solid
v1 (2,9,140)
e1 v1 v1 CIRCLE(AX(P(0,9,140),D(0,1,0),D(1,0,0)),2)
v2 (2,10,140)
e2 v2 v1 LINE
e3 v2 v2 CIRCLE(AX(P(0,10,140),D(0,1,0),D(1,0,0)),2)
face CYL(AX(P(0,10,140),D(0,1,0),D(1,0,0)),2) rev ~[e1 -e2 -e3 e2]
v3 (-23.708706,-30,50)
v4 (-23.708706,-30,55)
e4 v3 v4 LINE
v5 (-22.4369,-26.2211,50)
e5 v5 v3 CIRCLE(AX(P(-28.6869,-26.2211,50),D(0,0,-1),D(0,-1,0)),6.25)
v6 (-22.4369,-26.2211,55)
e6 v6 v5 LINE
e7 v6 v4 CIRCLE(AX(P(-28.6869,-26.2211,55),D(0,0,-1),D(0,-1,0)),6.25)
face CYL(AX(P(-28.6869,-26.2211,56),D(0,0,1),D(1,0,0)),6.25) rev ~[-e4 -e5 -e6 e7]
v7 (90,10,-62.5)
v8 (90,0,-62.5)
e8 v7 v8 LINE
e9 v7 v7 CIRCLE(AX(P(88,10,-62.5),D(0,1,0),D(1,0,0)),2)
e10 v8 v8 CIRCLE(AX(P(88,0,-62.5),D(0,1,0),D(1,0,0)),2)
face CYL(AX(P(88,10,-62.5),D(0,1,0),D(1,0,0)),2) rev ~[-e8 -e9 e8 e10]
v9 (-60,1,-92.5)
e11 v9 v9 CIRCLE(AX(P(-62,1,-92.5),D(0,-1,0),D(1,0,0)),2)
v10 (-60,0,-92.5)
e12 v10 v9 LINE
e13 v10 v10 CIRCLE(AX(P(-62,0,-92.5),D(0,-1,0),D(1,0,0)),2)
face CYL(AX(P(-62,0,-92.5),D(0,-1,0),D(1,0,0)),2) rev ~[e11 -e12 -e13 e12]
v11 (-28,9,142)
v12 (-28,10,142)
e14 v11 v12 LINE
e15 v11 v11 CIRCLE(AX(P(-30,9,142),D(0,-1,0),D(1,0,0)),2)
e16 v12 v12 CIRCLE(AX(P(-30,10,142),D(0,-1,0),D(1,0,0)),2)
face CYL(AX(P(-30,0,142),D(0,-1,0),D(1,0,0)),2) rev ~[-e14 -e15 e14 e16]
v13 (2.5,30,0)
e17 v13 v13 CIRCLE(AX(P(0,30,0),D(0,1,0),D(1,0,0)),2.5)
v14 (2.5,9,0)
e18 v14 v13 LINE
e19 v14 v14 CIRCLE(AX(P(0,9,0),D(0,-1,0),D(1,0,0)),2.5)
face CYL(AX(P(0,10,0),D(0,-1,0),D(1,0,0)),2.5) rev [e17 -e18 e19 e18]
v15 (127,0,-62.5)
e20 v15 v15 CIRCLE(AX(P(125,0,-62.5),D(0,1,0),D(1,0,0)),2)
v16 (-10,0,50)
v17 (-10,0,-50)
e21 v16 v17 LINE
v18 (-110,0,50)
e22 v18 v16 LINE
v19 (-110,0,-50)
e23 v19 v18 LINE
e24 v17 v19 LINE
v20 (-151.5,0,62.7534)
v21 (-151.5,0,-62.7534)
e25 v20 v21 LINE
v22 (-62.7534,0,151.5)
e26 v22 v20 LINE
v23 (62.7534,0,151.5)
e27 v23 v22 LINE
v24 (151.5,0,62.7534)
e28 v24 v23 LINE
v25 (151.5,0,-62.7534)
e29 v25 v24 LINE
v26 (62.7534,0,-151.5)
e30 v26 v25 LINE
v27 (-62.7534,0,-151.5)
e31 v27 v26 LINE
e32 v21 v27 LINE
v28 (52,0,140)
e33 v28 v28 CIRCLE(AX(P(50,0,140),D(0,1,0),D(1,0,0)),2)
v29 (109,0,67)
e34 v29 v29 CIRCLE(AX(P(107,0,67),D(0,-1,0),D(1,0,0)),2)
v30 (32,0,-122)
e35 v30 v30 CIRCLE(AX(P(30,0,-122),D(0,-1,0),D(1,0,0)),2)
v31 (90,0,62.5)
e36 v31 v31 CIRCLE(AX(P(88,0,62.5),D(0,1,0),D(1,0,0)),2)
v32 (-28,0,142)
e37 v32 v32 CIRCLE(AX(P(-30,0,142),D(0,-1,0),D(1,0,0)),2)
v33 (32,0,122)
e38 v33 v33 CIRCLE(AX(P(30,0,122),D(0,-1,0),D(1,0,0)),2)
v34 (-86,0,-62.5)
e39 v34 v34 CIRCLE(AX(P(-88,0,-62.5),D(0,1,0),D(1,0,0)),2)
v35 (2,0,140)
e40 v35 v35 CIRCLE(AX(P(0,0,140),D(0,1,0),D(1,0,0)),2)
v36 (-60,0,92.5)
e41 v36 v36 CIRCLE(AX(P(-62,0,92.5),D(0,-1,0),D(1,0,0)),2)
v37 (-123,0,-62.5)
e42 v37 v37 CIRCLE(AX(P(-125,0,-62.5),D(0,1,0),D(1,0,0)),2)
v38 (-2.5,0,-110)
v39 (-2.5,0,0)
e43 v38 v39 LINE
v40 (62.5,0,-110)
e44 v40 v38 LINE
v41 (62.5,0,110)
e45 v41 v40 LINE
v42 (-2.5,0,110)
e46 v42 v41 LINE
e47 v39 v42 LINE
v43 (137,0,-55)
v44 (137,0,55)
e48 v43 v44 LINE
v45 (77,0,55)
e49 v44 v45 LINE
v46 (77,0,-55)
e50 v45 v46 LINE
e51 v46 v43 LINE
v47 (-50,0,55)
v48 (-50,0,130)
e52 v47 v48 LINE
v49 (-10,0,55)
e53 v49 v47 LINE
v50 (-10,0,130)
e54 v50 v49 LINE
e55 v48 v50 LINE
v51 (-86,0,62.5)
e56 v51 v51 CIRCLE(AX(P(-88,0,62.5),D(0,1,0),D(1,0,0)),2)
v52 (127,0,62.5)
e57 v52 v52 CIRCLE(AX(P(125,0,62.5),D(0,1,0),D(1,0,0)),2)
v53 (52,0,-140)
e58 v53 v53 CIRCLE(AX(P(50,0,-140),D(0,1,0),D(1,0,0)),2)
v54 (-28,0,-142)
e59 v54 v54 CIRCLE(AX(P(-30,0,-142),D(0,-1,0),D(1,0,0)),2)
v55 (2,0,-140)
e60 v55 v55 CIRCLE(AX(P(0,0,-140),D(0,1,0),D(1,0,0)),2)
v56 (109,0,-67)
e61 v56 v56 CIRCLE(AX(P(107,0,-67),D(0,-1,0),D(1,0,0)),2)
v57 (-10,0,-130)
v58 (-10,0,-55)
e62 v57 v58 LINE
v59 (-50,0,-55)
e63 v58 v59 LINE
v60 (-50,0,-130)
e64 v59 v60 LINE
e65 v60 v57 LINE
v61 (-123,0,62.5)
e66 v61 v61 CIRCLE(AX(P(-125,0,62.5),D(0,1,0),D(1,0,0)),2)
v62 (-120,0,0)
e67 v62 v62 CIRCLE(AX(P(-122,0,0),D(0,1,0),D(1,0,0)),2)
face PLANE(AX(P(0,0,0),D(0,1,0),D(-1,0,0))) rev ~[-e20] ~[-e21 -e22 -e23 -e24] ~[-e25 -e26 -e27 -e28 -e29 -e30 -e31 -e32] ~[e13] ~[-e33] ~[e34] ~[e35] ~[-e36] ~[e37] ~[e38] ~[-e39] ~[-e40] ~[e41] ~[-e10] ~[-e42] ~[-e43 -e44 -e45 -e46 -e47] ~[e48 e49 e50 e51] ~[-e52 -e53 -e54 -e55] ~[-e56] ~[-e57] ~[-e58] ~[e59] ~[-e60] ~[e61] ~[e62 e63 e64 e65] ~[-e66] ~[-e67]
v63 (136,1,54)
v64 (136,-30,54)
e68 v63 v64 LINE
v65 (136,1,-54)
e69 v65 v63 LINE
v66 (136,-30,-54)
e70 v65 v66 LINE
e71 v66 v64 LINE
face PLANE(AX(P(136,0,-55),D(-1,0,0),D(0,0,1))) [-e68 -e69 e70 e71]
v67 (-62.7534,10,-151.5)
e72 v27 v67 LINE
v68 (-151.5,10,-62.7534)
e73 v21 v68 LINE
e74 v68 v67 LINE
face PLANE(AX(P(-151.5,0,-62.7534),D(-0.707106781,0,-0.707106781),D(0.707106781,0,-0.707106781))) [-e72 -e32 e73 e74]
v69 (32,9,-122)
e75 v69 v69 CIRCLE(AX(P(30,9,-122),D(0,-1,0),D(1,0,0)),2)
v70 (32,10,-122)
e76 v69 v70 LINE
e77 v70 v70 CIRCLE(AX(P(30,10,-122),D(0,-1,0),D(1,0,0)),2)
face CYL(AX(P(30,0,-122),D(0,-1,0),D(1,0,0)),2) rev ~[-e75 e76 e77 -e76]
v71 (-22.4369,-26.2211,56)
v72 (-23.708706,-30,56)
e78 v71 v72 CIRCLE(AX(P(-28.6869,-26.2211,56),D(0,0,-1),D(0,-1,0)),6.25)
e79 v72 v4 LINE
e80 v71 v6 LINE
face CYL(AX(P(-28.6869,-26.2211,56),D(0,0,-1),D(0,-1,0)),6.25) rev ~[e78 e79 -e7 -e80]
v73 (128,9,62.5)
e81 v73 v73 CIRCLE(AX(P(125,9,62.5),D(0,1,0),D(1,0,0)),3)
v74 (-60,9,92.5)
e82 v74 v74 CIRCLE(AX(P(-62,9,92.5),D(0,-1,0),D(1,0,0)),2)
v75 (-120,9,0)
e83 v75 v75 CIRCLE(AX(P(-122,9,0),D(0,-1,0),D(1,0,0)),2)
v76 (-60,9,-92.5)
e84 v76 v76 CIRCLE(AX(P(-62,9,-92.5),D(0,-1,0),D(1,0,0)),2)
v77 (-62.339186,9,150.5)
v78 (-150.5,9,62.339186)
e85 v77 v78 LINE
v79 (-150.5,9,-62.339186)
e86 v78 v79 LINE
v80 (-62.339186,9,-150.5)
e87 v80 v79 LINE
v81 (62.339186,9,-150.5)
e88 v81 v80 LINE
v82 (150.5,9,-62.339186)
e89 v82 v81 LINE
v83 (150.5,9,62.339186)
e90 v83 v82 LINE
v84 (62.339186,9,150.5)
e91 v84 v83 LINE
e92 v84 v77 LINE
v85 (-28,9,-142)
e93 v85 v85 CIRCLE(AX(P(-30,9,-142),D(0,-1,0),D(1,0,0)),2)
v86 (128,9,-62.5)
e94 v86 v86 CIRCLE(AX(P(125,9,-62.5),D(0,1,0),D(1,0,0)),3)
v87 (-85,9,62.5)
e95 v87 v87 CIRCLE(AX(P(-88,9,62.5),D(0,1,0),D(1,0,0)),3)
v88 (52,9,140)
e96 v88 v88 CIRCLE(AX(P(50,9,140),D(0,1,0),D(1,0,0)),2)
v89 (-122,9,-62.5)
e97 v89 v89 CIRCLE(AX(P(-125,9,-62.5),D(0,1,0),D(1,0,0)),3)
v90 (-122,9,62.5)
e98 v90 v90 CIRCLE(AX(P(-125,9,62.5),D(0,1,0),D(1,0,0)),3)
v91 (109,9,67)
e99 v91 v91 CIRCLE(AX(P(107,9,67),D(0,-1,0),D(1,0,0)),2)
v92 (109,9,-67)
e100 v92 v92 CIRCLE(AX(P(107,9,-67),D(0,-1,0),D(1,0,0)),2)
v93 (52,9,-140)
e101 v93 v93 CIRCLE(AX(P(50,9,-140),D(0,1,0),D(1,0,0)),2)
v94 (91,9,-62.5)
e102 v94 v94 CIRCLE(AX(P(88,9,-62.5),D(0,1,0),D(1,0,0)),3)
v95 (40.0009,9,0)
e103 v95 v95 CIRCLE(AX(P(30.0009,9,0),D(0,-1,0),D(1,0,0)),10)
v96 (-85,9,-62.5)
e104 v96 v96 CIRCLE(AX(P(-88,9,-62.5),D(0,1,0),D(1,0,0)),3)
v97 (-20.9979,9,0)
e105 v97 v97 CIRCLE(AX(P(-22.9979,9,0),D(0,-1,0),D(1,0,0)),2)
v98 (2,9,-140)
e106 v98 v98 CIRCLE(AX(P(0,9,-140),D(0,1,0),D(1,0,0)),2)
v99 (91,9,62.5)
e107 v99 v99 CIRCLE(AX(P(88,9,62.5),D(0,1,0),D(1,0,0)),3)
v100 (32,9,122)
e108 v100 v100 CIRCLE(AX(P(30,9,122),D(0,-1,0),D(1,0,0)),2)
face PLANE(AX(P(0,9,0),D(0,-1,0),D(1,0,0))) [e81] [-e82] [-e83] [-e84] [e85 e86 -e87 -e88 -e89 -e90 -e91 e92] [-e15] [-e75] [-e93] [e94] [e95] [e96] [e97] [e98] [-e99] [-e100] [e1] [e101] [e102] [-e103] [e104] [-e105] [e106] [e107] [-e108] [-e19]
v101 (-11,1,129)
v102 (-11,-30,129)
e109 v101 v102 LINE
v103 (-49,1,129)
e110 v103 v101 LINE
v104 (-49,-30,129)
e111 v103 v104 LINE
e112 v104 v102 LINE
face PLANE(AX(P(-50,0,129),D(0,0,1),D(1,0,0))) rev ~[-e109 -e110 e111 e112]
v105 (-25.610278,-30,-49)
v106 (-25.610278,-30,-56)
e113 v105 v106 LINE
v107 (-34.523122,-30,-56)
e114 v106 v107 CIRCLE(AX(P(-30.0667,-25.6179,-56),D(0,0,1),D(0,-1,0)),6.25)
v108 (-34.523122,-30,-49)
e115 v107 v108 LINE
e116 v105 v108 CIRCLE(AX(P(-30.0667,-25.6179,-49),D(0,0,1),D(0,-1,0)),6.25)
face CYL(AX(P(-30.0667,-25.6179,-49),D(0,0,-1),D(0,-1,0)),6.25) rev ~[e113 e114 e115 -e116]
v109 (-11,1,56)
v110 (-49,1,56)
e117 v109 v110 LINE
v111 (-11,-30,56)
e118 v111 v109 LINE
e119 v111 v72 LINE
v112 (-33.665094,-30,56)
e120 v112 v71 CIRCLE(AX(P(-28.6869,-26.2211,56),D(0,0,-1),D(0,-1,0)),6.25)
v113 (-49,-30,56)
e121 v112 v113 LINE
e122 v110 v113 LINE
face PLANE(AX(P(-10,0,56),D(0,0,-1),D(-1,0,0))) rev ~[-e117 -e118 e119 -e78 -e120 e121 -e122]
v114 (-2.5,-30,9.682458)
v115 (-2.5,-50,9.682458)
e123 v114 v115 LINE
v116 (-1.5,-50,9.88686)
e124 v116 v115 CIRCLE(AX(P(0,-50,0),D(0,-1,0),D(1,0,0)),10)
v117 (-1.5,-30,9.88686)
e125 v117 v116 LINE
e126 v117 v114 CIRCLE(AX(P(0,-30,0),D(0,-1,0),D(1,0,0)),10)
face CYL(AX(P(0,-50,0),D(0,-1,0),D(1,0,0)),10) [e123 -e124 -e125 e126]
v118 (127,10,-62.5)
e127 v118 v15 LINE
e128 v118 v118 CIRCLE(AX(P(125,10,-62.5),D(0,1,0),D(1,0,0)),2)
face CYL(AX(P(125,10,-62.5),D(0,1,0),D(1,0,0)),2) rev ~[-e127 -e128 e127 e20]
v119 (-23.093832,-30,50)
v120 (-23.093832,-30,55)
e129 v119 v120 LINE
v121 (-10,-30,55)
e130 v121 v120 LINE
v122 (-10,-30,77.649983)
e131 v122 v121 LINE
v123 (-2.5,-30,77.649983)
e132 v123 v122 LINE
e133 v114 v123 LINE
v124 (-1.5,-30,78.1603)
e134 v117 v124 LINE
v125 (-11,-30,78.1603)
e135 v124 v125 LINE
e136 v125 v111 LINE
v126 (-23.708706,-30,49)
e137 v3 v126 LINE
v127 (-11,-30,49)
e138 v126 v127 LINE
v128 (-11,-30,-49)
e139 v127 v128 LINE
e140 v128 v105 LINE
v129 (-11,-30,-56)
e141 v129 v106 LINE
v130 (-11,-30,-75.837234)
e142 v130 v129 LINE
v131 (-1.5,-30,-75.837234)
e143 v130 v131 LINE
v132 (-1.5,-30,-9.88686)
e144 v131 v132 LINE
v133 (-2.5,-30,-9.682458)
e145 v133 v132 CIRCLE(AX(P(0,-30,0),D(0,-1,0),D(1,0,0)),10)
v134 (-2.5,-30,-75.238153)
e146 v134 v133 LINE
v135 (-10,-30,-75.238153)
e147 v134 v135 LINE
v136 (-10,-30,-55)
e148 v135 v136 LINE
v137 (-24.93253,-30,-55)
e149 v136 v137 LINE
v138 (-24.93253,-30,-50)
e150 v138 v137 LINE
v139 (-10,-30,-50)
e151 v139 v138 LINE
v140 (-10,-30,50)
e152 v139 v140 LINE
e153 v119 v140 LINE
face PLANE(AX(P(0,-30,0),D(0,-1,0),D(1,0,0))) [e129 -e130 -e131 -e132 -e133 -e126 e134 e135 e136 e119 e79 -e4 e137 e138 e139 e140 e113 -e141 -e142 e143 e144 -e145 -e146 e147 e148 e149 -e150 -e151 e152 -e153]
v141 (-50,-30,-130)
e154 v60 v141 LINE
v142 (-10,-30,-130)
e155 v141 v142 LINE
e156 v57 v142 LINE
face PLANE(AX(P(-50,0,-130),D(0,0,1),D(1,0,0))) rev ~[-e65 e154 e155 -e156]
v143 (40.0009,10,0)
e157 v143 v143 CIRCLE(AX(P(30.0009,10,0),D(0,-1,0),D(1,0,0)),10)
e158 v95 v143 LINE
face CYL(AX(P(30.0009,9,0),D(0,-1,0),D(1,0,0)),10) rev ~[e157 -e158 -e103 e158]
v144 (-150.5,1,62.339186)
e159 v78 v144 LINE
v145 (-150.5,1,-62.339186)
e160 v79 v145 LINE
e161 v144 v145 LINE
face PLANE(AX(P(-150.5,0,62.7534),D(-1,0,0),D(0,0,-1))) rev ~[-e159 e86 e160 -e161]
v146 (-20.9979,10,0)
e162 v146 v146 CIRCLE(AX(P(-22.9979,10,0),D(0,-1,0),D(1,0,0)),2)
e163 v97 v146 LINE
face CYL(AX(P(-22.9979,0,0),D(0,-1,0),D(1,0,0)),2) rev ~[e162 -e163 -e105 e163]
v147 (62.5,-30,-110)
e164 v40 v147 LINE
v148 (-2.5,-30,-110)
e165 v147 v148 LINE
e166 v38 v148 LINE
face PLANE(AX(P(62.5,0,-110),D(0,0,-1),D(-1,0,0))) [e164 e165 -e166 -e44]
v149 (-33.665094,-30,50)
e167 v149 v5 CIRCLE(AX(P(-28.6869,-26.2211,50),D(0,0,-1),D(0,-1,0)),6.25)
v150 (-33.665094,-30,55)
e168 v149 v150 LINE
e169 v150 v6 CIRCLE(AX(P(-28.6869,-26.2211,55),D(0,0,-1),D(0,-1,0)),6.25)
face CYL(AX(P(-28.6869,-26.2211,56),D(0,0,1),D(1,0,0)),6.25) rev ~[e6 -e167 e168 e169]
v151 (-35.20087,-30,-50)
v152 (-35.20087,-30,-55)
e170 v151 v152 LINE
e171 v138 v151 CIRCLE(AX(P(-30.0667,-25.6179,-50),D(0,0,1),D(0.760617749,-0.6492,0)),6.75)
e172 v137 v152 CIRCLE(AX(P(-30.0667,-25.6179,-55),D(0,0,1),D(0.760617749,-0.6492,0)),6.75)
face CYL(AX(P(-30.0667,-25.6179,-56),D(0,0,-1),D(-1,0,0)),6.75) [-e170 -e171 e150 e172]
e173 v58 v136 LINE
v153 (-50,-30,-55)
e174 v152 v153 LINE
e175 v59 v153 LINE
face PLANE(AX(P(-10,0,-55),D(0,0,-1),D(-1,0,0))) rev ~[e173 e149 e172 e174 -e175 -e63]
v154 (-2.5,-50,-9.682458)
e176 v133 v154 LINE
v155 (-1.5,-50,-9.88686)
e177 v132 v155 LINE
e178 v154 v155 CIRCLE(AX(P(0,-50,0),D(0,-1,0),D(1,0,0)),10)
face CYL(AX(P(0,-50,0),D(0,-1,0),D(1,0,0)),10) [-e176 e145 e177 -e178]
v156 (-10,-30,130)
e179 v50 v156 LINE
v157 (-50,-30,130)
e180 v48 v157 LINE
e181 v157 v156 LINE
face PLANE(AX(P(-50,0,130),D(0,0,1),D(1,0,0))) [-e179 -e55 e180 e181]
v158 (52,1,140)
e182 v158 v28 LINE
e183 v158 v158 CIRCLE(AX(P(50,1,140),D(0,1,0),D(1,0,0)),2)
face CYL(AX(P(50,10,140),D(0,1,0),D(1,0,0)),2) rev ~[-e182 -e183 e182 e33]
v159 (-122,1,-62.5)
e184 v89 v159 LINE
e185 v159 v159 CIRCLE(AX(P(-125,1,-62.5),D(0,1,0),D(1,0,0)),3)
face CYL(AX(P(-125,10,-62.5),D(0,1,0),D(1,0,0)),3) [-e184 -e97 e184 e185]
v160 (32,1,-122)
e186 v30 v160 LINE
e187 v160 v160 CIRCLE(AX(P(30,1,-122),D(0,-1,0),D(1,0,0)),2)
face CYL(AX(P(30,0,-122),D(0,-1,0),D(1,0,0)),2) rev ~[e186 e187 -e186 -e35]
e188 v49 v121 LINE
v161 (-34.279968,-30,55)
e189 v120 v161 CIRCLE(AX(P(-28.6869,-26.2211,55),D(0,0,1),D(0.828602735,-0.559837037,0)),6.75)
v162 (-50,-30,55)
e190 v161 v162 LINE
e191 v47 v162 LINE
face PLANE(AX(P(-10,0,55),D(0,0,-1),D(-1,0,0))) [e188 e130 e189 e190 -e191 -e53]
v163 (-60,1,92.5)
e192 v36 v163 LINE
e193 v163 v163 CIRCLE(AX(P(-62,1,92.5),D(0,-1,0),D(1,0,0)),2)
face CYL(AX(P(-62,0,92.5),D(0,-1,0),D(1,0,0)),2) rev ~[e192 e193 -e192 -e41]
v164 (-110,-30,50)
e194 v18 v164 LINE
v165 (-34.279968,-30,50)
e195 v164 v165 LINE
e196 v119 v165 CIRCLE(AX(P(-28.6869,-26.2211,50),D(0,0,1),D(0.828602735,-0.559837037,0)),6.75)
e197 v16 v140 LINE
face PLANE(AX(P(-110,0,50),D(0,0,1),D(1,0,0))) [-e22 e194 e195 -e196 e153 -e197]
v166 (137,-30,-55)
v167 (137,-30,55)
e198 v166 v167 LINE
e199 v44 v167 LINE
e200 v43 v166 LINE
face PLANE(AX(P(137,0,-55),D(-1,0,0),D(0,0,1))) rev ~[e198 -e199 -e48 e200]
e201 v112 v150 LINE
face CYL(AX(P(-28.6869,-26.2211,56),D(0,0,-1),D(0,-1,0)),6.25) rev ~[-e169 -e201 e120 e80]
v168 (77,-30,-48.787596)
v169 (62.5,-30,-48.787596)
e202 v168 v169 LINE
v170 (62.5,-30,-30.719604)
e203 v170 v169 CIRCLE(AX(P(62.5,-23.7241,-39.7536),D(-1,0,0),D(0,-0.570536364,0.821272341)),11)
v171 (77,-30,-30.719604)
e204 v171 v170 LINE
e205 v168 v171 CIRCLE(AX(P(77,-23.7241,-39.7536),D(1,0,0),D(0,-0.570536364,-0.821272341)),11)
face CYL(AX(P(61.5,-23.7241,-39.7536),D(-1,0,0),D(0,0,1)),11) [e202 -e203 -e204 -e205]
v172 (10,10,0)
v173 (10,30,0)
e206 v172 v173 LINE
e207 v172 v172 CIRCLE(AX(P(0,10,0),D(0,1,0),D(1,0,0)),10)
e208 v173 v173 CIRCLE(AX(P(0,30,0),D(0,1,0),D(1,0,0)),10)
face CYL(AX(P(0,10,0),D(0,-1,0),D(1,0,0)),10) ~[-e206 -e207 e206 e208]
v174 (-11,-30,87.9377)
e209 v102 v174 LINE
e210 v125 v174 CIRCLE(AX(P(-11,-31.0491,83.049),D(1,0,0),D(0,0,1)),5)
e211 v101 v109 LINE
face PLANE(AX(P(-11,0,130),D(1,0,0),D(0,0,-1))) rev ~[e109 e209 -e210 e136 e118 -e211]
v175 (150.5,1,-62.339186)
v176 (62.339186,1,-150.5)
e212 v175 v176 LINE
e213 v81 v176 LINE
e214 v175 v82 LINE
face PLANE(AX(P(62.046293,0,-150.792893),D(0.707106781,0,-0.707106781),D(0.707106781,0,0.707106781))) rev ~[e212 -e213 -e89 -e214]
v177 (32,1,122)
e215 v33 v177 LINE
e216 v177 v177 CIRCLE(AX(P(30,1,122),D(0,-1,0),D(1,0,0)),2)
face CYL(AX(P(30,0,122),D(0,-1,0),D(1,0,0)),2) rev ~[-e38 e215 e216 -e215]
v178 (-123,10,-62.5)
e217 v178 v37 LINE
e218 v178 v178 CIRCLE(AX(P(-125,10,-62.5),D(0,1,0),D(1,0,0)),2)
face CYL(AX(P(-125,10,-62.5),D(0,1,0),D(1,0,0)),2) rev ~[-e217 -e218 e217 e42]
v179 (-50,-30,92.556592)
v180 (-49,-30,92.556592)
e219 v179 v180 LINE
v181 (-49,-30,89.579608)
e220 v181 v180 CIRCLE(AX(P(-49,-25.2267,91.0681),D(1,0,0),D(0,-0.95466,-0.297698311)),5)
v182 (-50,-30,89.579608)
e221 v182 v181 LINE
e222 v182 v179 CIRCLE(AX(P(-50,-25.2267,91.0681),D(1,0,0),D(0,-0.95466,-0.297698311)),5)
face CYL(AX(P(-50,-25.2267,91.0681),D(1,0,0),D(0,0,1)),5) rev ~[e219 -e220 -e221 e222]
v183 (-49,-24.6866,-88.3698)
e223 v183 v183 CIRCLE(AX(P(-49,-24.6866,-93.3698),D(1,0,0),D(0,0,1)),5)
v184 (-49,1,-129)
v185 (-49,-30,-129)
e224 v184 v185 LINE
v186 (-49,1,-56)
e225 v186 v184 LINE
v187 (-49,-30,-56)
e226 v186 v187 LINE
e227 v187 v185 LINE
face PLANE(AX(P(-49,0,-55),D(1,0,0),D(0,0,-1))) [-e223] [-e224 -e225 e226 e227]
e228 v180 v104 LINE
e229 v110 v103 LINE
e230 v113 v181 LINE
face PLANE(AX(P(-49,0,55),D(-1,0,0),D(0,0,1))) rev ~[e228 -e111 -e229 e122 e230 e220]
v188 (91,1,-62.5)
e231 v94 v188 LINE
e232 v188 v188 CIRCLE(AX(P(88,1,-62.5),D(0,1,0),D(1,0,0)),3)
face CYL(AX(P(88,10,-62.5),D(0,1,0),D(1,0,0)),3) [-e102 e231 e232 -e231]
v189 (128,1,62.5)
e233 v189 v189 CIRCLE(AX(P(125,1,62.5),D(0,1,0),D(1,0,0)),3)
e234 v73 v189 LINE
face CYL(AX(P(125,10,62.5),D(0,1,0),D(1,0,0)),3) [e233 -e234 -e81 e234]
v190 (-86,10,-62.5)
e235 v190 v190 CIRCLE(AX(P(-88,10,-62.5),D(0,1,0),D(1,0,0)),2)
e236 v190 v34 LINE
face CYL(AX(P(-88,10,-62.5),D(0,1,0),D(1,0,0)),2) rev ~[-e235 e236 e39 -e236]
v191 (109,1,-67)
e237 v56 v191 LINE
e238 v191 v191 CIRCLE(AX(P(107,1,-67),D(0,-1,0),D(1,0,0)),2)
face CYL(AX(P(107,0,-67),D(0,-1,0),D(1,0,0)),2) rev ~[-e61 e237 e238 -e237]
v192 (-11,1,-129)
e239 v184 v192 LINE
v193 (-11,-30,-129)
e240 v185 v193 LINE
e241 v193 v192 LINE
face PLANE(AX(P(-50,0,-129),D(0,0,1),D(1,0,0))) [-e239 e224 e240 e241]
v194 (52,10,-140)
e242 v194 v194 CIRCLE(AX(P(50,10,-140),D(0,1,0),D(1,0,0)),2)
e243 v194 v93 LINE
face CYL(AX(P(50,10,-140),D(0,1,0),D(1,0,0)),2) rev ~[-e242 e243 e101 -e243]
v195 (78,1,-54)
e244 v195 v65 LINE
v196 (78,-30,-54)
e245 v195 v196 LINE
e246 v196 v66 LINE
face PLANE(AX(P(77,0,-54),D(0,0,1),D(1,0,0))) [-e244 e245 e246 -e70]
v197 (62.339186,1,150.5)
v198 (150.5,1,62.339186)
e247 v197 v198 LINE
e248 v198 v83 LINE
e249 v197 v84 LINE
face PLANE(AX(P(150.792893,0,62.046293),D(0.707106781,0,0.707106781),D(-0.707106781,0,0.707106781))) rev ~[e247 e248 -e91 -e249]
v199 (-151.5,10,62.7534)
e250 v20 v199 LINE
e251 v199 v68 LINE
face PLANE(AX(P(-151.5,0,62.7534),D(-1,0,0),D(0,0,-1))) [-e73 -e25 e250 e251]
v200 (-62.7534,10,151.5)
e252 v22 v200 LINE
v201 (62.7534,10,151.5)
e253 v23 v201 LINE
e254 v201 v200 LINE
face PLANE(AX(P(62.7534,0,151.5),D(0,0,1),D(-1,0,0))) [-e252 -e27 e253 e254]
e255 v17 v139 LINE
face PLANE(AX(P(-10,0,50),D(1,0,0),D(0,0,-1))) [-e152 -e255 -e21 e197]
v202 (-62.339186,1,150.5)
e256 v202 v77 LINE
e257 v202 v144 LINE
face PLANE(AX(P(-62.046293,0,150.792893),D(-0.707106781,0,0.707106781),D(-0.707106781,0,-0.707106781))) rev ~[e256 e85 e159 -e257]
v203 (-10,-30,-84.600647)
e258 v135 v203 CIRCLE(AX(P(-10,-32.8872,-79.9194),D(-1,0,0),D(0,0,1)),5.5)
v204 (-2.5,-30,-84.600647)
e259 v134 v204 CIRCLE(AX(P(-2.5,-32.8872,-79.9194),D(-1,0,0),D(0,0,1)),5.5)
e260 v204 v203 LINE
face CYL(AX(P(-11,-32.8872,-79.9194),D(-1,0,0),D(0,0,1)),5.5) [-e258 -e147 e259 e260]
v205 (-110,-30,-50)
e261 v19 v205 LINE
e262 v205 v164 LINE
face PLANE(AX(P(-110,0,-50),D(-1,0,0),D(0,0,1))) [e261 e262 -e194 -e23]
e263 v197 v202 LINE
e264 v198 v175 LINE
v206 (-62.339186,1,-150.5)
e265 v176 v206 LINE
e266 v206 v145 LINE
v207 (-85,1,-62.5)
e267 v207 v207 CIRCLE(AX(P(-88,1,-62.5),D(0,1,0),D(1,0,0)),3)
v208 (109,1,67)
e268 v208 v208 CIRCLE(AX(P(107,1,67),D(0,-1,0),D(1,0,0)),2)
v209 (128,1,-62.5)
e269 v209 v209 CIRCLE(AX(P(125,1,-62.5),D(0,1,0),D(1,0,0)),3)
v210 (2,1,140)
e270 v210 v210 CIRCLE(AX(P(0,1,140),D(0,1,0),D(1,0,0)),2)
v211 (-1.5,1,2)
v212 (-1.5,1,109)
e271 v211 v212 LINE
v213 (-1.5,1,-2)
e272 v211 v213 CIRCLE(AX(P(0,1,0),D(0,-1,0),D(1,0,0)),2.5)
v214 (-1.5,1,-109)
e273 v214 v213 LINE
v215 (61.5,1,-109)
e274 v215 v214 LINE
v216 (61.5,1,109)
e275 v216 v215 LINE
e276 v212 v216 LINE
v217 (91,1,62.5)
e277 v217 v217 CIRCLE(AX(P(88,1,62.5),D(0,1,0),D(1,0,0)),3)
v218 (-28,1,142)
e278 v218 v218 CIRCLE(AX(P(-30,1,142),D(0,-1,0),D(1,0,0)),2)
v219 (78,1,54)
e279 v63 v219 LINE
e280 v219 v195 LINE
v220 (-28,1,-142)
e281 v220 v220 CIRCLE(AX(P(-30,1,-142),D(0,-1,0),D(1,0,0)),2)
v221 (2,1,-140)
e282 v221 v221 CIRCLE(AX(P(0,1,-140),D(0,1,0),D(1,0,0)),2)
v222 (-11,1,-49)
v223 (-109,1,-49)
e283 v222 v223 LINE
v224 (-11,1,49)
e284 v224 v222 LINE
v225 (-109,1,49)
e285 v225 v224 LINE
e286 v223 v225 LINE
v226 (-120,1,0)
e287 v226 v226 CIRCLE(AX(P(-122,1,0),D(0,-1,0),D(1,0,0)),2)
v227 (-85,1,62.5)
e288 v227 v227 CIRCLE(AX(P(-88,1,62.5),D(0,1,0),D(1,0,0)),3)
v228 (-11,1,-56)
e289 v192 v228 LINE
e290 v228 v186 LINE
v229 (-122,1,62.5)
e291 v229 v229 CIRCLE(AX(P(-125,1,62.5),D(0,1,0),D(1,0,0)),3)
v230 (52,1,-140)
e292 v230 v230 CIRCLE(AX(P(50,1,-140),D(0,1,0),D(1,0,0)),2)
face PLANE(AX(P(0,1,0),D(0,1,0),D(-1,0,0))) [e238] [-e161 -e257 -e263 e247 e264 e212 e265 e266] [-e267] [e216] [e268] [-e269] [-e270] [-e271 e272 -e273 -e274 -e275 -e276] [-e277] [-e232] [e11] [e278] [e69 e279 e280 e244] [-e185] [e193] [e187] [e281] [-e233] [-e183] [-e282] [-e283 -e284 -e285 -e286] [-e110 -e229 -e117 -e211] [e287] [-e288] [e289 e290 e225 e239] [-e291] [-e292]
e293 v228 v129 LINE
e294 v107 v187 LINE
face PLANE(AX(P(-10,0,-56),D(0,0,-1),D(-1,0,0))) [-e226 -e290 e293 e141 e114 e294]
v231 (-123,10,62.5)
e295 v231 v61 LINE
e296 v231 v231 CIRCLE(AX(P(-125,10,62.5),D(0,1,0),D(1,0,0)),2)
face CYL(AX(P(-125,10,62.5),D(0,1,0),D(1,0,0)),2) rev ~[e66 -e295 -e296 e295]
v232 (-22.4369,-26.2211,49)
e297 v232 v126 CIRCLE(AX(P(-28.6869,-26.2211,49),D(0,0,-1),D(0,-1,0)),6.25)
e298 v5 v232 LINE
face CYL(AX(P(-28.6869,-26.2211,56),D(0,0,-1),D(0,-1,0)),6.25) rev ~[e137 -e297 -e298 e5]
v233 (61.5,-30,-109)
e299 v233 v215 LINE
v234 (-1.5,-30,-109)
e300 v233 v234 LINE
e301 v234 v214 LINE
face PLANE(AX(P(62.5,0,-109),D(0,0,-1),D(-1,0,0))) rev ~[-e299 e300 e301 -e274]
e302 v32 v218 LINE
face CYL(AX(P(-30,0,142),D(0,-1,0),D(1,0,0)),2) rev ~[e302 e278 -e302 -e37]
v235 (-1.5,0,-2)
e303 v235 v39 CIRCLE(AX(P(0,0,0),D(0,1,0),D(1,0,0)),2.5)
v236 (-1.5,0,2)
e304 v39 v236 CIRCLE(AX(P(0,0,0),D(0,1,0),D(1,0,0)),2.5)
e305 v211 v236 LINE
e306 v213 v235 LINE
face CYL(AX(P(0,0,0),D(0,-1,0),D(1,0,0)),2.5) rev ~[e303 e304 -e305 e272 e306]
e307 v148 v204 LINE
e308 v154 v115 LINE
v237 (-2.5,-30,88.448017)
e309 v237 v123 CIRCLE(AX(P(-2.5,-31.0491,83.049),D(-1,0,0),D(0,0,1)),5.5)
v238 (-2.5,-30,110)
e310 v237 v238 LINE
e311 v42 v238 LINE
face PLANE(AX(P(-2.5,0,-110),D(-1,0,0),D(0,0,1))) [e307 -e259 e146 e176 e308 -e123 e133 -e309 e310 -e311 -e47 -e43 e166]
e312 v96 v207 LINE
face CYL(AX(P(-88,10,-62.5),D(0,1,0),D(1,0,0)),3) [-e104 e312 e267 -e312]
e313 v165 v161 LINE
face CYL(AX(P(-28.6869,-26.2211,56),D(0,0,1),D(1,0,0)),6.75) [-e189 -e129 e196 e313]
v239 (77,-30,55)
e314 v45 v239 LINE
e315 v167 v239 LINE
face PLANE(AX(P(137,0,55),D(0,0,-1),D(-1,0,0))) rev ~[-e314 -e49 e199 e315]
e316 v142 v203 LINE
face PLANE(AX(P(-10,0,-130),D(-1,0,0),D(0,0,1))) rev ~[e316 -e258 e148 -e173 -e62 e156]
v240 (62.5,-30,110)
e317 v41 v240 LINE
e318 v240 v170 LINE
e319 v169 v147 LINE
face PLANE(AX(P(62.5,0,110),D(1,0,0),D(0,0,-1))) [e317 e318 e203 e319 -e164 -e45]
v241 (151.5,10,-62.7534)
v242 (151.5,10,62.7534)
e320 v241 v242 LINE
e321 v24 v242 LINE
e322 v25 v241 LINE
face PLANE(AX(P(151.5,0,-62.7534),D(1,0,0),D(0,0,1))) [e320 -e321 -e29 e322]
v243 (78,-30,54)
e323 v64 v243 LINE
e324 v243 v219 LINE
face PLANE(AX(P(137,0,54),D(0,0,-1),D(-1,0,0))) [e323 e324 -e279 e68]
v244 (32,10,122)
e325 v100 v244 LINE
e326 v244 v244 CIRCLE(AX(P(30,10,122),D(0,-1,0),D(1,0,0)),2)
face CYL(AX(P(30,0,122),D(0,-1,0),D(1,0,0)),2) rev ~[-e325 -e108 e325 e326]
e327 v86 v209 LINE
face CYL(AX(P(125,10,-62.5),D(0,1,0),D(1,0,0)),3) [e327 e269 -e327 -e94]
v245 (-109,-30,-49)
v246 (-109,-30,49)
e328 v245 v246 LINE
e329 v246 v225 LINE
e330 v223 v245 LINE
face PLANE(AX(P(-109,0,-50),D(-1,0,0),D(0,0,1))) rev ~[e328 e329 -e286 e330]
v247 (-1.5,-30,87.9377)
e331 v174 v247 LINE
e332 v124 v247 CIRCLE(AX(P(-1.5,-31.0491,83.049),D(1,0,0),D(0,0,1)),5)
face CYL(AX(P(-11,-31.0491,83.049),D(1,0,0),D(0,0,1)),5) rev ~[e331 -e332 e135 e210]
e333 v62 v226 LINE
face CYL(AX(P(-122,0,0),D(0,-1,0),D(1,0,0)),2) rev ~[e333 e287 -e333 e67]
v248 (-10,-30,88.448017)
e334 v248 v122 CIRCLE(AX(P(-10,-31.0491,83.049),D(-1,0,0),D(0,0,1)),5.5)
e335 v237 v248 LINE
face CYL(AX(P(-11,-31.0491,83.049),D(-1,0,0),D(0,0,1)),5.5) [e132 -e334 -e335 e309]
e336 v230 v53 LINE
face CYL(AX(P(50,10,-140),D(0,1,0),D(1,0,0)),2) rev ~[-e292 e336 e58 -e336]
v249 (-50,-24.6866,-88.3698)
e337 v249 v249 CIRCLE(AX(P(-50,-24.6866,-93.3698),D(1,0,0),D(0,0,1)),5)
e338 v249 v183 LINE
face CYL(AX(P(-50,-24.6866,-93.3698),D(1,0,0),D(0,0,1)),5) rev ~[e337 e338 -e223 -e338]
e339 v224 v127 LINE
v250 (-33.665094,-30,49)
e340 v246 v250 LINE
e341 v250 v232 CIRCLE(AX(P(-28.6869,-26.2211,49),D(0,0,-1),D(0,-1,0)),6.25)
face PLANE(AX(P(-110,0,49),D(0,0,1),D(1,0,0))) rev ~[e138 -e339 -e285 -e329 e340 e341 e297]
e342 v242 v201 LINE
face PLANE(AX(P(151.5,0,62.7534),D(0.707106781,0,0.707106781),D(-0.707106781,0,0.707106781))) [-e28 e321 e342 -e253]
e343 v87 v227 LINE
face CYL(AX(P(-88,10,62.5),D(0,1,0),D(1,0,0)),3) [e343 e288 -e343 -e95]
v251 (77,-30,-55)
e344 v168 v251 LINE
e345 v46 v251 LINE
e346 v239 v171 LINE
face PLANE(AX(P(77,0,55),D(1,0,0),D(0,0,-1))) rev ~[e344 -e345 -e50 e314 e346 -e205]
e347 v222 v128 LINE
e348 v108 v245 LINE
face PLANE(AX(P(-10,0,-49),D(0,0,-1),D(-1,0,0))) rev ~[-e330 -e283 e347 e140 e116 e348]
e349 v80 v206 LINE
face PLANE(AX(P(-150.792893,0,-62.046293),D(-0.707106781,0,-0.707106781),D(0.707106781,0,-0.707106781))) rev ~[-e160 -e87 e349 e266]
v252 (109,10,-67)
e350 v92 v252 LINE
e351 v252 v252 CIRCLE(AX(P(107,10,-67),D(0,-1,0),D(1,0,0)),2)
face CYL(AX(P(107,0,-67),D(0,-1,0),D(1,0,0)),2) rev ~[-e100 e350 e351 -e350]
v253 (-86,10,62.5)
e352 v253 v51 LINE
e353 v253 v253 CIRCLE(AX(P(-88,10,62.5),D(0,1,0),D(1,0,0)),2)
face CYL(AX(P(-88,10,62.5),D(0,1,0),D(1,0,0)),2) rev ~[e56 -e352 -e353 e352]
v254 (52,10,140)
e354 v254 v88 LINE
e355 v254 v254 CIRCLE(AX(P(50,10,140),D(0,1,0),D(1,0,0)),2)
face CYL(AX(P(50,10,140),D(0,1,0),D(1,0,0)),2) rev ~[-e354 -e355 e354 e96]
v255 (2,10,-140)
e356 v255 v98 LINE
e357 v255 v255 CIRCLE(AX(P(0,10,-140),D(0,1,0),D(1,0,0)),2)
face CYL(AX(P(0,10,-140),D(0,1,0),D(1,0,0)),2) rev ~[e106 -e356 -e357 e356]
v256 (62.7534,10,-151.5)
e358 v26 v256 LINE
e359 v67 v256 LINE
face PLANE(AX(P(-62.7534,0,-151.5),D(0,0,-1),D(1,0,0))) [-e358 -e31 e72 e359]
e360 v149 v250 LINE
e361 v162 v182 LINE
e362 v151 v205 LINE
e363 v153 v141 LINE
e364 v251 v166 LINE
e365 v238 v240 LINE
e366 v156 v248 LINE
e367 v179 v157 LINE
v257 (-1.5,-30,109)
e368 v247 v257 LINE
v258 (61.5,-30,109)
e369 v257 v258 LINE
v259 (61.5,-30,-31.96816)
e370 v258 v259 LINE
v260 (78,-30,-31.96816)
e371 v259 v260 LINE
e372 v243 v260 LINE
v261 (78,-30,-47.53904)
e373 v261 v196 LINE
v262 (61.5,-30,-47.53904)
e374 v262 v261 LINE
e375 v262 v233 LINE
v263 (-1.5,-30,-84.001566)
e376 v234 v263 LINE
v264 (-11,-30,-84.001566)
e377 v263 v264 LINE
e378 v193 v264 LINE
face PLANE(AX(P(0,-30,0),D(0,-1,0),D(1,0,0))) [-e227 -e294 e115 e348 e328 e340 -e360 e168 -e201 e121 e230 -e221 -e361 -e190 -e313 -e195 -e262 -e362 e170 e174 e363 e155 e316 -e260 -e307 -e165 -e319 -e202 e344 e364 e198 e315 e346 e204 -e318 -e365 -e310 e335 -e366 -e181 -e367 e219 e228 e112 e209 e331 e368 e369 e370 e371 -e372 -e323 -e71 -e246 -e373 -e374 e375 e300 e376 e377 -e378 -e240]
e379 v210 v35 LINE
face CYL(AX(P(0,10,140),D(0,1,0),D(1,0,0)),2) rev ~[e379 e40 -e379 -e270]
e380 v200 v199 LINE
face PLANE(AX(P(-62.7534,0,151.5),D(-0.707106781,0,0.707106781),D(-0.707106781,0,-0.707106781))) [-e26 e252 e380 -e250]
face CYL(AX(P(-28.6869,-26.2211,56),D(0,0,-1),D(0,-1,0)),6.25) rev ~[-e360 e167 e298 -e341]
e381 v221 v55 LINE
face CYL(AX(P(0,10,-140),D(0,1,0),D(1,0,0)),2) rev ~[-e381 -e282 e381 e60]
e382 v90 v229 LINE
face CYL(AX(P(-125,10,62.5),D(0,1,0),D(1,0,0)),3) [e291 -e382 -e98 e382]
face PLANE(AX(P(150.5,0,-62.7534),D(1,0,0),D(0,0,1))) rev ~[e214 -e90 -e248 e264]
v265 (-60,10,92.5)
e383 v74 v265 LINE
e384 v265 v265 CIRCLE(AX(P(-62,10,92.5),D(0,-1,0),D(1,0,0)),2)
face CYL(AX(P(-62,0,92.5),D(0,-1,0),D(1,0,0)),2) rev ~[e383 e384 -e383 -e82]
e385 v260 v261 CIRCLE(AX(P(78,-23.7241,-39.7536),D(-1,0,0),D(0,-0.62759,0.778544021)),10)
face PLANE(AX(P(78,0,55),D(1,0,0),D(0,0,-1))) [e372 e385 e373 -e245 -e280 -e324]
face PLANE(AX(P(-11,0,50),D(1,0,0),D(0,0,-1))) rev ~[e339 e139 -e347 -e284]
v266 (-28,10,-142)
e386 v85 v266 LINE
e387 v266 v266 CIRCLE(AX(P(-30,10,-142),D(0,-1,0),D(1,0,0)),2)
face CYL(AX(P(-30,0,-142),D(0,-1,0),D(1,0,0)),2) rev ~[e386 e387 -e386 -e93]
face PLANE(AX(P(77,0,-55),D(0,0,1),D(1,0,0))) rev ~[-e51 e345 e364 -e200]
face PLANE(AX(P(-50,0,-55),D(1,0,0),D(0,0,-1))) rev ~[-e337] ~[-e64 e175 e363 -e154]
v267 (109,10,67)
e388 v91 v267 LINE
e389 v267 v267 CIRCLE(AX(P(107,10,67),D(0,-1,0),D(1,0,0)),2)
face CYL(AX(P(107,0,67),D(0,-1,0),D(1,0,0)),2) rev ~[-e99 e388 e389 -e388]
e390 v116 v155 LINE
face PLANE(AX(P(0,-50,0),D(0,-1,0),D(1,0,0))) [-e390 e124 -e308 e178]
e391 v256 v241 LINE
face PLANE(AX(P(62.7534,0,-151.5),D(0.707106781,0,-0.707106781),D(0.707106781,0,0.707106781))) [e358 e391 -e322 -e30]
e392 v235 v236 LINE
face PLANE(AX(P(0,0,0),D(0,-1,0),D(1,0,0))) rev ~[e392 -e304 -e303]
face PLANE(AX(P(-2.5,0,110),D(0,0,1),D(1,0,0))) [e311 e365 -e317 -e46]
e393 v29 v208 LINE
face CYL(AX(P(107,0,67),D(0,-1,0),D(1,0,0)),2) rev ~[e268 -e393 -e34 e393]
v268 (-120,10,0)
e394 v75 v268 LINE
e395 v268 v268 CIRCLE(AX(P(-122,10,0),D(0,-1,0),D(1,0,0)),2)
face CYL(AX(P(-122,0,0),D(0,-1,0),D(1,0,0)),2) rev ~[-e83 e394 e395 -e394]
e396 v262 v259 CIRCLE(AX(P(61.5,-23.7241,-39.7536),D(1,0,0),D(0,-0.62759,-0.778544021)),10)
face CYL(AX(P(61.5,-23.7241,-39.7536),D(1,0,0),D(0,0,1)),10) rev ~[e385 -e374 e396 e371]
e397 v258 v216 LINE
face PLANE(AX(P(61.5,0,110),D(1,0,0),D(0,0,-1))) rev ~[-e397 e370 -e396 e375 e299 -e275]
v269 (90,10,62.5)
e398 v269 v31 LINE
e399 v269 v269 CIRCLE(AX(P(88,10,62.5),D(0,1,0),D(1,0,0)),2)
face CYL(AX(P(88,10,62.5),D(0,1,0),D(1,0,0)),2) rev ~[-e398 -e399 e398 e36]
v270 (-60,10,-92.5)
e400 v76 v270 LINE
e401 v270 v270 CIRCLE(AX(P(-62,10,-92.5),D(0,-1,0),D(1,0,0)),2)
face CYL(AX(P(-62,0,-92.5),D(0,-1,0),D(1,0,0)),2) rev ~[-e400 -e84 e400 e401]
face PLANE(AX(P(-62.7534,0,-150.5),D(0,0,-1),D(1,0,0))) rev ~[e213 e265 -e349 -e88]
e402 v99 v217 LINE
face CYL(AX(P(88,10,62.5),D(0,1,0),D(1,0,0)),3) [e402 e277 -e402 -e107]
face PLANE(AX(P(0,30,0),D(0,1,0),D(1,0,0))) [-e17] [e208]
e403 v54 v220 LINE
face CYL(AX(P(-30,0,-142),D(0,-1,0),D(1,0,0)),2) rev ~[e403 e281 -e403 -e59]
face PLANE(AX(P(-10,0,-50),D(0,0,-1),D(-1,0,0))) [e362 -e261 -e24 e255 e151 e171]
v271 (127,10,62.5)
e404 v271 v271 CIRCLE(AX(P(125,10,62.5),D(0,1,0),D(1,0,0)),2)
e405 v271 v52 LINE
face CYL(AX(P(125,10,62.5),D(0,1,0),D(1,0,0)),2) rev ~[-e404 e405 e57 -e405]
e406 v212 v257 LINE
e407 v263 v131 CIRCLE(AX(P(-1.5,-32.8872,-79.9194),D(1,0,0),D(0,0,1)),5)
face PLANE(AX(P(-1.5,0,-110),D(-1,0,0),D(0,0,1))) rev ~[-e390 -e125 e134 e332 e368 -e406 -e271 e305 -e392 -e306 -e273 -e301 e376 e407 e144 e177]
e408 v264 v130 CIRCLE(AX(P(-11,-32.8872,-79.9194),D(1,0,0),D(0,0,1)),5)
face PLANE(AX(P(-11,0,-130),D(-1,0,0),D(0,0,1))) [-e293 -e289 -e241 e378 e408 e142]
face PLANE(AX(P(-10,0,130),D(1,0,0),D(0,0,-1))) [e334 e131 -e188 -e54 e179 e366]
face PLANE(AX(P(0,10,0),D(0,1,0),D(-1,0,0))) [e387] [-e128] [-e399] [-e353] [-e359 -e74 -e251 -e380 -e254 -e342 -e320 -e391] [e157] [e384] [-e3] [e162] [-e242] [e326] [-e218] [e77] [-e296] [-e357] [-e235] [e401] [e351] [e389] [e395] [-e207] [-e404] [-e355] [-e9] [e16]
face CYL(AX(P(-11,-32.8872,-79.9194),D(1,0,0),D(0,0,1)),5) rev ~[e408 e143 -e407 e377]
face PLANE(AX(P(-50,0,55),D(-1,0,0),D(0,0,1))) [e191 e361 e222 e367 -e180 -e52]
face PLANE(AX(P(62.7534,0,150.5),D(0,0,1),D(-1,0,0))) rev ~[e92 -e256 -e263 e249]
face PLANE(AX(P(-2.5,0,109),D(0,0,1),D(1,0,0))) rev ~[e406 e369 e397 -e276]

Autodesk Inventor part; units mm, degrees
ref_plane "YZ Plane" through (0, 0, 0) normal (1, 0, 0) x (0, 1, 0)
ref_plane "XZ Plane" through (0, 0, 0) normal (0, 1, 0) x (-1, 0, 0)
ref_plane "XY Plane" through (0, 0, 0) normal (0, 0, 1) x (1, 0, 0)
sketch "Sketch1" plane through (0, 0, 0) normal (0, 1, 0) x (-1, 0, 0)
  line L0 (62.7534, 151.5) -> (151.5, 62.7534)
  line L1 (151.5, 62.7534) -> (151.5, -62.7534)
  line L2 (151.5, -62.7534) -> (62.7534, -151.5)
  line L3 (62.7534, -151.5) -> (-62.7534, -151.5)
  line L4 (-62.7534, -151.5) -> (-151.5, -62.7534)
  line L5 (-151.5, -62.7534) -> (-151.5, 62.7534)
  line L6 (-151.5, 62.7534) -> (-62.7534, 151.5)
  line L7 (-62.7534, 151.5) -> (62.7534, 151.5)
  point P0 (0, 0)
  point P1 (0, 0)
  dimension "d0" = 303
extrude "Extrusion1" add sketch "Sketch1" along normal blind 10
sketch "Sketch2" plane through (0, 10, 0) normal (0, 1, 0) x (1, 0, 0)
  circle A0 centre (-125, -62.5) radius 2
  circle A1 centre (-88, -62.5) radius 2
  line L0 (-151.5, 62.7534) -> (-151.5, -62.7534) projected
  line L1 (151.5, -62.7534) -> (151.5, 62.7534) projected
  line L2 (-62.7534, -151.5) -> (62.7534, -151.5) projected
  line L3 (62.7534, 151.5) -> (-62.7534, 151.5) projected
  circle A2 centre (-125, 62.5) radius 2
  circle A3 centre (-88, 62.5) radius 2
  circle A4 centre (125, -62.5) radius 2
  circle A5 centre (88, -62.5) radius 2
  circle A6 centre (125, 62.5) radius 2
  circle A7 centre (88, 62.5) radius 2
  point P0 (0, 0)
  dimension "d3" = 4
  dimension "d4" = 4
extrude "Extrusion2" cut sketch "Sketch2" along normal mid plane 30
sketch "Sketch3" plane through (0, 10, 0) normal (0, 1, 0) x (1, 0, 0)
  circle A0 centre (0, 0) radius 10
  circle A1 centre (0, 0) radius 2.5
  dimension "d7" = 20
  dimension "d8" = 5
extrude "Extrusion3" add sketch "Sketch3" along normal blind 20
sketch "Sketch4" plane through (0, 0, 0) normal (0, -1, 0) x (1, 0, 0)
  line L0 (-151.5, -62.7534) -> (-151.5, 62.7534) projected
  line L1 (151.5, 62.7534) -> (151.5, -62.7534) projected
  line L2 (77, -55) -> (137, -55)
  line L3 (137, -55) -> (137, 55)
  line L4 (137, 55) -> (77, 55)
  line L5 (77, 55) -> (77, -55)
  line L6 (77, -55) -> (137, 55) construction
  line L7 (137, -55) -> (77, 55) construction
  line L8 (-2.5, 110) -> (62.5, 110)
  line L9 (62.5, 110) -> (62.5, -110)
  line L10 (62.5, -110) -> (-2.5, -110)
  line L11 (-2.5, -110) -> (-2.5, 110)
  line L12 (-2.5, 110) -> (62.5, -110) construction
  line L13 (62.5, 110) -> (-2.5, -110) construction
  line L14 (-110, 50) -> (-10, 50)
  line L15 (-10, 50) -> (-10, -50)
  line L16 (-10, -50) -> (-110, -50)
  line L17 (-110, -50) -> (-110, 50)
  line L18 (-110, 50) -> (-10, -50) construction
  line L19 (-10, 50) -> (-110, -50) construction
  line L20 (-10, -55) -> (-50, -55)
  line L21 (-50, -55) -> (-50, -130)
  line L22 (-50, -130) -> (-10, -130)
  line L23 (-10, -130) -> (-10, -55)
  line L24 (-10, 55) -> (-50, 55)
  line L25 (-50, 55) -> (-50, 130)
  line L26 (-50, 130) -> (-10, 130)
  line L27 (-10, 130) -> (-10, 55)
  point P0 (0, 0)
  point P1 (107, 0)
  point P2 (30, 0)
  point P3 (-60, 0)
  dimension "d11" = 303
  dimension "d12" = 60
  dimension "d13" = 110
  dimension "d14" = 65
  dimension "d15" = 220
  dimension "d16" = 100
  dimension "d17" = 100
  dimension "d18" = 40
  dimension "d19" = 75
  dimension "d20" = 75
extrude "Extrusion4" add sketch "Sketch4" along normal blind 50
shell "Shell1" thickness 1 removed faces 5 at (-36.6667, -50, -80) at (117, -50, -18.3333) at (19.1667, -50, 36.6667) at (-76.6667, -50, 16.6667) at (-36.6667, -50, 105)
sketch "Sketch5" plane through (0, -50, 0) normal (0, -1, 0) x (1, 0, 0)
  line L0 (136, -54) -> (78, -54)
  line L1 (78, -54) -> (78, 54)
  line L2 (78, 54) -> (136, 54)
  line L3 (136, 54) -> (136, -54)
  line L4 (136, -54) -> (78, 54) construction
  line L5 (78, -54) -> (136, 54) construction
  line L6 (-11, 49) -> (-109, 49)
  line L7 (-109, 49) -> (-109, -49)
  line L8 (-109, -49) -> (-11, -49)
  line L9 (-11, -49) -> (-11, 49)
  line L10 (-11, 49) -> (-109, -49) construction
  line L11 (-109, 49) -> (-11, -49) construction
  line L12 (-49, -56) -> (-11, -56)
  line L13 (-11, -56) -> (-11, -129)
  line L14 (-11, -129) -> (-49, -129)
  line L15 (-49, -129) -> (-49, -56)
  line L16 (-49, -56) -> (-11, -129) construction
  line L17 (-11, -56) -> (-49, -129) construction
  line L18 (-49, 56) -> (-11, 56) projected
  line L19 (-49, 129) -> (-11, 129)
  line L20 (-11, 129) -> (-11, 56)
  line L21 (-11, 56) -> (-49, 56)
  line L22 (-49, 56) -> (-49, 129)
  line L23 (-49, 129) -> (-11, 56) construction
  line L24 (-11, 129) -> (-49, 56) construction
  point P0 (0, 0)
  point P1 (107, 0)
  point P2 (-60, 0)
  point P3 (-30, -92.5)
  point P4 (-30, 92.5)
  dimension "d24" = 58
  dimension "d25" = 108
  dimension "d26" = 98
  dimension "d27" = 98
  dimension "d28" = 38
  dimension "d29" = 73
  dimension "d30" = 38
  dimension "d31" = 73
extrude "Extrusion5" cut sketch "Sketch5" against normal blind 50
sketch "Sketch6" plane through (61.5, -50, -109) normal (-1, 0, 0) x (0, 0, 1)
  point P0 (109, 50)
  point P1 (69.2464, 26.2759)
hole "Hole1" at (61.5, -23.7241, -39.7536) direction (1, 0, 0) diameter 20 depth 30
sketch "Sketch7" plane through (61.5, -50, -109) normal (-1, 0, 0) x (0, 0, 1)
  circle A0 centre (69.2464, 26.2759) radius 10 projected
  circle A1 centre (69.2464, 26.2759) radius 10
  circle A2 centre (69.2464, 26.2759) radius 11
  point P0 (109, 50)
  dimension "d41" = 20
  dimension "d42" = 22
extrude "Extrusion6" add sketch "Sketch7" against normal blind 16.25
sketch "Sketch8" plane through (-11, -50, -56) normal (-1, 0, 0) x (0, 0, 1)
  point P0 (56, 50)
  point P1 (-23.9194, 17.1128)
  point P2 (139.049, 18.9509)
hole "Hole2" at (-11, -32.8872, -79.9194) at (-11, -31.0491, 83.049) direction (1, 0, 0) diameter 10 depth 30
sketch "Sketch9" plane through (-50, 0, -130) normal (-1, 0, 0) x (0, 0, 1)
  point P0 (130, 0)
  point P1 (36.6302, -24.6866)
  point P2 (221.0681, -25.2267)
hole "Hole3" at (-50, -24.6866, -93.3698) at (-50, -25.2267, 91.0681) direction (1, 0, 0) diameter 10 depth 3
sketch "Sketch10" plane through (-49, 1, 56) normal (0, 0, 1) x (1, 0, 0)
  point P0 (49, -1)
  point P1 (20.3131, -27.2211)
hole "Hole4" at (-28.6869, -26.2211, 56) direction (0, 0, -1) diameter 12.5 depth 30
sketch "Sketch11" plane through (-109, 1, -49) normal (0, 0, 1) x (1, 0, 0)
  point P0 (109, -1)
  point P1 (78.9333, -26.6179)
hole "Hole5" at (-30.0667, -25.6179, -49) direction (0, 0, -1) diameter 12.5 depth 30
sketch "Sketch12" plane through (-49, 1, 56) normal (0, 0, 1) x (1, 0, 0)
  circle A0 centre (20.3131, -27.2211) radius 6.25 projected
  circle A1 centre (20.3131, -27.2211) radius 6.25
  circle A2 centre (20.3131, -27.2211) radius 6.25 projected
  circle A3 centre (20.3131, -27.2211) radius 6.75
  point P0 (49, -1)
  dimension "d73" = 13.5
extrude "Extrusion7" add sketch "Sketch12" against normal blind 7
sketch "Sketch13" plane through (-11, 1, -56) normal (0, 0, -1) x (-1, 0, 0)
  circle A0 centre (19.0667, -26.6179) radius 6.25 projected
  circle A1 centre (19.0667, -26.6179) radius 6.75
  point P0 (-11, -1)
  dimension "d76" = 13.5
extrude "Extrusion8" add sketch "Sketch13" against normal blind 7
sketch "Sketch14" plane through (-62.3391, 9, 150.5) normal (0, -1, 0) x (1, 0, 0)
  circle A0 centre (92.34, -150.5) radius 10
  point P0 (62.3391, -150.5)
  dimension "d79" = 20
extrude "Extrusion9" cut sketch "Sketch14" against normal blind 10
sketch "Sketch15" plane through (-11, -50, 129) normal (-1, 0, 0) x (0, 0, 1)
  circle A0 centre (-45.951, 18.9509) radius 5 projected
  circle A1 centre (-45.951, 18.9509) radius 5
  circle A2 centre (-45.951, 18.9509) radius 5.5
  circle A3 centre (-208.9194, 17.1128) radius 5 projected
  circle A4 centre (-208.9194, 17.1128) radius 5
  circle A5 centre (-208.9194, 17.1128) radius 5.5
  point P0 (-129, 50)
  dimension "d82" = 11
  dimension "d83" = 11
extrude "Extrusion10" add sketch "Sketch15" against normal blind 9.5
sketch "Sketch16" plane through (0, -50, 0) normal (0, -1, 0) x (1, 0, 0)
  line L0 (160.7646, -155.9788) -> (-160.7646, -155.9788)
  line L1 (-160.7646, -155.9788) -> (-160.7646, 155.9788)
  line L2 (-160.7646, 155.9788) -> (160.7646, 155.9788)
  line L3 (160.7646, 155.9788) -> (160.7646, -155.9788)
  circle A0 centre (0, 0) radius 10 projected
  line L4 (160.7646, -155.9788) -> (-160.7646, 155.9788) construction
  line L5 (-160.7646, -155.9788) -> (160.7646, 155.9788) construction
extrude "Extrusion11" cut sketch "Sketch16" against normal blind 20
sketch "Sketch17" plane through (-151.5, 0, -62.7534) normal (-0.7071, 0, -0.7071) x (-0.7071, 0, 0.7071)
  circle A0 centre (-62.7534, 5) radius 5
  point P0 (-62.7534, 0)
  dimension "d88" = 10
sketch "Sketch18" plane through (-62.7534, 0, 151.5) normal (-0.7071, 0, 0.7071) x (0.7071, 0, 0.7071)
  circle A0 centre (-62.7534, 5) radius 5
  point P0 (-62.7534, 0)
  dimension "d89" = 10
sketch "Sketch19" plane through (0, 0, 0) normal (0, -1, 0) x (1, 0, 0)
  circle A0 centre (0, 0) radius 2.5
  circle A1 centre (-22.9979, 0) radius 2
  circle A2 centre (107, -67) radius 2
  circle A3 centre (-122, 0) radius 2
  circle A4 centre (-62, -92.5) radius 2
  circle A5 centre (-30, -142) radius 2
  circle A6 centre (30, -122) radius 2
  line L0 (157.9023, 0) -> (-166.1221, 0)
  circle A7 centre (-22.9979, 0) radius 2
  circle A8 centre (107, 67) radius 2
  circle A9 centre (-122, 0) radius 2
  circle A10 centre (-62, 92.5) radius 2
  circle A11 centre (-30, 142) radius 2
  circle A12 centre (30, 122) radius 2
  dimension "d90" = 4
  dimension "d91" = 4
  dimension "d92" = 4
  dimension "d93" = 4
  dimension "d94" = 4
  dimension "d95" = 4
extrude "Extrusion12" cut sketch "Sketch19" against normal blind 10
sketch "Sketch20" plane through (0, 10, 0) normal (0, 1, 0) x (1, 0, 0)
  circle A0 centre (0, 0) radius 10 projected
  circle A1 centre (0, 0) radius 10
  circle A2 centre (0, 0) radius 2.5
extrude "Extrusion13" add sketch "Sketch20" along normal blind 20
sketch "Sketch21" plane through (0, 9, 0) normal (0, -1, 0) x (1, 0, 0)
  circle A0 centre (0, 0) radius 2.5
  circle A1 centre (0, 0) radius 2.5 projected
  circle A2 centre (0, 0) radius 9
extrude "Extrusion14" add sketch "Sketch21" against normal blind 2
sketch "Sketch22" plane through (0, 10, 0) normal (0, 1, 0) x (1, 0, 0)
  circle A0 centre (0, 140) radius 2
  circle A1 centre (0, -140) radius 2
  circle A2 centre (50, -140) radius 2
  circle A3 centre (50, 140) radius 2
  point P0 (0, 0)
  dimension "d102" = 4
  dimension "d103" = 4
  dimension "d104" = 4
  dimension "d105" = 4
extrude "Extrusion15" cut sketch "Sketch22" against normal blind 10
properties part number "trail 2" material "PAEK Plastic"
